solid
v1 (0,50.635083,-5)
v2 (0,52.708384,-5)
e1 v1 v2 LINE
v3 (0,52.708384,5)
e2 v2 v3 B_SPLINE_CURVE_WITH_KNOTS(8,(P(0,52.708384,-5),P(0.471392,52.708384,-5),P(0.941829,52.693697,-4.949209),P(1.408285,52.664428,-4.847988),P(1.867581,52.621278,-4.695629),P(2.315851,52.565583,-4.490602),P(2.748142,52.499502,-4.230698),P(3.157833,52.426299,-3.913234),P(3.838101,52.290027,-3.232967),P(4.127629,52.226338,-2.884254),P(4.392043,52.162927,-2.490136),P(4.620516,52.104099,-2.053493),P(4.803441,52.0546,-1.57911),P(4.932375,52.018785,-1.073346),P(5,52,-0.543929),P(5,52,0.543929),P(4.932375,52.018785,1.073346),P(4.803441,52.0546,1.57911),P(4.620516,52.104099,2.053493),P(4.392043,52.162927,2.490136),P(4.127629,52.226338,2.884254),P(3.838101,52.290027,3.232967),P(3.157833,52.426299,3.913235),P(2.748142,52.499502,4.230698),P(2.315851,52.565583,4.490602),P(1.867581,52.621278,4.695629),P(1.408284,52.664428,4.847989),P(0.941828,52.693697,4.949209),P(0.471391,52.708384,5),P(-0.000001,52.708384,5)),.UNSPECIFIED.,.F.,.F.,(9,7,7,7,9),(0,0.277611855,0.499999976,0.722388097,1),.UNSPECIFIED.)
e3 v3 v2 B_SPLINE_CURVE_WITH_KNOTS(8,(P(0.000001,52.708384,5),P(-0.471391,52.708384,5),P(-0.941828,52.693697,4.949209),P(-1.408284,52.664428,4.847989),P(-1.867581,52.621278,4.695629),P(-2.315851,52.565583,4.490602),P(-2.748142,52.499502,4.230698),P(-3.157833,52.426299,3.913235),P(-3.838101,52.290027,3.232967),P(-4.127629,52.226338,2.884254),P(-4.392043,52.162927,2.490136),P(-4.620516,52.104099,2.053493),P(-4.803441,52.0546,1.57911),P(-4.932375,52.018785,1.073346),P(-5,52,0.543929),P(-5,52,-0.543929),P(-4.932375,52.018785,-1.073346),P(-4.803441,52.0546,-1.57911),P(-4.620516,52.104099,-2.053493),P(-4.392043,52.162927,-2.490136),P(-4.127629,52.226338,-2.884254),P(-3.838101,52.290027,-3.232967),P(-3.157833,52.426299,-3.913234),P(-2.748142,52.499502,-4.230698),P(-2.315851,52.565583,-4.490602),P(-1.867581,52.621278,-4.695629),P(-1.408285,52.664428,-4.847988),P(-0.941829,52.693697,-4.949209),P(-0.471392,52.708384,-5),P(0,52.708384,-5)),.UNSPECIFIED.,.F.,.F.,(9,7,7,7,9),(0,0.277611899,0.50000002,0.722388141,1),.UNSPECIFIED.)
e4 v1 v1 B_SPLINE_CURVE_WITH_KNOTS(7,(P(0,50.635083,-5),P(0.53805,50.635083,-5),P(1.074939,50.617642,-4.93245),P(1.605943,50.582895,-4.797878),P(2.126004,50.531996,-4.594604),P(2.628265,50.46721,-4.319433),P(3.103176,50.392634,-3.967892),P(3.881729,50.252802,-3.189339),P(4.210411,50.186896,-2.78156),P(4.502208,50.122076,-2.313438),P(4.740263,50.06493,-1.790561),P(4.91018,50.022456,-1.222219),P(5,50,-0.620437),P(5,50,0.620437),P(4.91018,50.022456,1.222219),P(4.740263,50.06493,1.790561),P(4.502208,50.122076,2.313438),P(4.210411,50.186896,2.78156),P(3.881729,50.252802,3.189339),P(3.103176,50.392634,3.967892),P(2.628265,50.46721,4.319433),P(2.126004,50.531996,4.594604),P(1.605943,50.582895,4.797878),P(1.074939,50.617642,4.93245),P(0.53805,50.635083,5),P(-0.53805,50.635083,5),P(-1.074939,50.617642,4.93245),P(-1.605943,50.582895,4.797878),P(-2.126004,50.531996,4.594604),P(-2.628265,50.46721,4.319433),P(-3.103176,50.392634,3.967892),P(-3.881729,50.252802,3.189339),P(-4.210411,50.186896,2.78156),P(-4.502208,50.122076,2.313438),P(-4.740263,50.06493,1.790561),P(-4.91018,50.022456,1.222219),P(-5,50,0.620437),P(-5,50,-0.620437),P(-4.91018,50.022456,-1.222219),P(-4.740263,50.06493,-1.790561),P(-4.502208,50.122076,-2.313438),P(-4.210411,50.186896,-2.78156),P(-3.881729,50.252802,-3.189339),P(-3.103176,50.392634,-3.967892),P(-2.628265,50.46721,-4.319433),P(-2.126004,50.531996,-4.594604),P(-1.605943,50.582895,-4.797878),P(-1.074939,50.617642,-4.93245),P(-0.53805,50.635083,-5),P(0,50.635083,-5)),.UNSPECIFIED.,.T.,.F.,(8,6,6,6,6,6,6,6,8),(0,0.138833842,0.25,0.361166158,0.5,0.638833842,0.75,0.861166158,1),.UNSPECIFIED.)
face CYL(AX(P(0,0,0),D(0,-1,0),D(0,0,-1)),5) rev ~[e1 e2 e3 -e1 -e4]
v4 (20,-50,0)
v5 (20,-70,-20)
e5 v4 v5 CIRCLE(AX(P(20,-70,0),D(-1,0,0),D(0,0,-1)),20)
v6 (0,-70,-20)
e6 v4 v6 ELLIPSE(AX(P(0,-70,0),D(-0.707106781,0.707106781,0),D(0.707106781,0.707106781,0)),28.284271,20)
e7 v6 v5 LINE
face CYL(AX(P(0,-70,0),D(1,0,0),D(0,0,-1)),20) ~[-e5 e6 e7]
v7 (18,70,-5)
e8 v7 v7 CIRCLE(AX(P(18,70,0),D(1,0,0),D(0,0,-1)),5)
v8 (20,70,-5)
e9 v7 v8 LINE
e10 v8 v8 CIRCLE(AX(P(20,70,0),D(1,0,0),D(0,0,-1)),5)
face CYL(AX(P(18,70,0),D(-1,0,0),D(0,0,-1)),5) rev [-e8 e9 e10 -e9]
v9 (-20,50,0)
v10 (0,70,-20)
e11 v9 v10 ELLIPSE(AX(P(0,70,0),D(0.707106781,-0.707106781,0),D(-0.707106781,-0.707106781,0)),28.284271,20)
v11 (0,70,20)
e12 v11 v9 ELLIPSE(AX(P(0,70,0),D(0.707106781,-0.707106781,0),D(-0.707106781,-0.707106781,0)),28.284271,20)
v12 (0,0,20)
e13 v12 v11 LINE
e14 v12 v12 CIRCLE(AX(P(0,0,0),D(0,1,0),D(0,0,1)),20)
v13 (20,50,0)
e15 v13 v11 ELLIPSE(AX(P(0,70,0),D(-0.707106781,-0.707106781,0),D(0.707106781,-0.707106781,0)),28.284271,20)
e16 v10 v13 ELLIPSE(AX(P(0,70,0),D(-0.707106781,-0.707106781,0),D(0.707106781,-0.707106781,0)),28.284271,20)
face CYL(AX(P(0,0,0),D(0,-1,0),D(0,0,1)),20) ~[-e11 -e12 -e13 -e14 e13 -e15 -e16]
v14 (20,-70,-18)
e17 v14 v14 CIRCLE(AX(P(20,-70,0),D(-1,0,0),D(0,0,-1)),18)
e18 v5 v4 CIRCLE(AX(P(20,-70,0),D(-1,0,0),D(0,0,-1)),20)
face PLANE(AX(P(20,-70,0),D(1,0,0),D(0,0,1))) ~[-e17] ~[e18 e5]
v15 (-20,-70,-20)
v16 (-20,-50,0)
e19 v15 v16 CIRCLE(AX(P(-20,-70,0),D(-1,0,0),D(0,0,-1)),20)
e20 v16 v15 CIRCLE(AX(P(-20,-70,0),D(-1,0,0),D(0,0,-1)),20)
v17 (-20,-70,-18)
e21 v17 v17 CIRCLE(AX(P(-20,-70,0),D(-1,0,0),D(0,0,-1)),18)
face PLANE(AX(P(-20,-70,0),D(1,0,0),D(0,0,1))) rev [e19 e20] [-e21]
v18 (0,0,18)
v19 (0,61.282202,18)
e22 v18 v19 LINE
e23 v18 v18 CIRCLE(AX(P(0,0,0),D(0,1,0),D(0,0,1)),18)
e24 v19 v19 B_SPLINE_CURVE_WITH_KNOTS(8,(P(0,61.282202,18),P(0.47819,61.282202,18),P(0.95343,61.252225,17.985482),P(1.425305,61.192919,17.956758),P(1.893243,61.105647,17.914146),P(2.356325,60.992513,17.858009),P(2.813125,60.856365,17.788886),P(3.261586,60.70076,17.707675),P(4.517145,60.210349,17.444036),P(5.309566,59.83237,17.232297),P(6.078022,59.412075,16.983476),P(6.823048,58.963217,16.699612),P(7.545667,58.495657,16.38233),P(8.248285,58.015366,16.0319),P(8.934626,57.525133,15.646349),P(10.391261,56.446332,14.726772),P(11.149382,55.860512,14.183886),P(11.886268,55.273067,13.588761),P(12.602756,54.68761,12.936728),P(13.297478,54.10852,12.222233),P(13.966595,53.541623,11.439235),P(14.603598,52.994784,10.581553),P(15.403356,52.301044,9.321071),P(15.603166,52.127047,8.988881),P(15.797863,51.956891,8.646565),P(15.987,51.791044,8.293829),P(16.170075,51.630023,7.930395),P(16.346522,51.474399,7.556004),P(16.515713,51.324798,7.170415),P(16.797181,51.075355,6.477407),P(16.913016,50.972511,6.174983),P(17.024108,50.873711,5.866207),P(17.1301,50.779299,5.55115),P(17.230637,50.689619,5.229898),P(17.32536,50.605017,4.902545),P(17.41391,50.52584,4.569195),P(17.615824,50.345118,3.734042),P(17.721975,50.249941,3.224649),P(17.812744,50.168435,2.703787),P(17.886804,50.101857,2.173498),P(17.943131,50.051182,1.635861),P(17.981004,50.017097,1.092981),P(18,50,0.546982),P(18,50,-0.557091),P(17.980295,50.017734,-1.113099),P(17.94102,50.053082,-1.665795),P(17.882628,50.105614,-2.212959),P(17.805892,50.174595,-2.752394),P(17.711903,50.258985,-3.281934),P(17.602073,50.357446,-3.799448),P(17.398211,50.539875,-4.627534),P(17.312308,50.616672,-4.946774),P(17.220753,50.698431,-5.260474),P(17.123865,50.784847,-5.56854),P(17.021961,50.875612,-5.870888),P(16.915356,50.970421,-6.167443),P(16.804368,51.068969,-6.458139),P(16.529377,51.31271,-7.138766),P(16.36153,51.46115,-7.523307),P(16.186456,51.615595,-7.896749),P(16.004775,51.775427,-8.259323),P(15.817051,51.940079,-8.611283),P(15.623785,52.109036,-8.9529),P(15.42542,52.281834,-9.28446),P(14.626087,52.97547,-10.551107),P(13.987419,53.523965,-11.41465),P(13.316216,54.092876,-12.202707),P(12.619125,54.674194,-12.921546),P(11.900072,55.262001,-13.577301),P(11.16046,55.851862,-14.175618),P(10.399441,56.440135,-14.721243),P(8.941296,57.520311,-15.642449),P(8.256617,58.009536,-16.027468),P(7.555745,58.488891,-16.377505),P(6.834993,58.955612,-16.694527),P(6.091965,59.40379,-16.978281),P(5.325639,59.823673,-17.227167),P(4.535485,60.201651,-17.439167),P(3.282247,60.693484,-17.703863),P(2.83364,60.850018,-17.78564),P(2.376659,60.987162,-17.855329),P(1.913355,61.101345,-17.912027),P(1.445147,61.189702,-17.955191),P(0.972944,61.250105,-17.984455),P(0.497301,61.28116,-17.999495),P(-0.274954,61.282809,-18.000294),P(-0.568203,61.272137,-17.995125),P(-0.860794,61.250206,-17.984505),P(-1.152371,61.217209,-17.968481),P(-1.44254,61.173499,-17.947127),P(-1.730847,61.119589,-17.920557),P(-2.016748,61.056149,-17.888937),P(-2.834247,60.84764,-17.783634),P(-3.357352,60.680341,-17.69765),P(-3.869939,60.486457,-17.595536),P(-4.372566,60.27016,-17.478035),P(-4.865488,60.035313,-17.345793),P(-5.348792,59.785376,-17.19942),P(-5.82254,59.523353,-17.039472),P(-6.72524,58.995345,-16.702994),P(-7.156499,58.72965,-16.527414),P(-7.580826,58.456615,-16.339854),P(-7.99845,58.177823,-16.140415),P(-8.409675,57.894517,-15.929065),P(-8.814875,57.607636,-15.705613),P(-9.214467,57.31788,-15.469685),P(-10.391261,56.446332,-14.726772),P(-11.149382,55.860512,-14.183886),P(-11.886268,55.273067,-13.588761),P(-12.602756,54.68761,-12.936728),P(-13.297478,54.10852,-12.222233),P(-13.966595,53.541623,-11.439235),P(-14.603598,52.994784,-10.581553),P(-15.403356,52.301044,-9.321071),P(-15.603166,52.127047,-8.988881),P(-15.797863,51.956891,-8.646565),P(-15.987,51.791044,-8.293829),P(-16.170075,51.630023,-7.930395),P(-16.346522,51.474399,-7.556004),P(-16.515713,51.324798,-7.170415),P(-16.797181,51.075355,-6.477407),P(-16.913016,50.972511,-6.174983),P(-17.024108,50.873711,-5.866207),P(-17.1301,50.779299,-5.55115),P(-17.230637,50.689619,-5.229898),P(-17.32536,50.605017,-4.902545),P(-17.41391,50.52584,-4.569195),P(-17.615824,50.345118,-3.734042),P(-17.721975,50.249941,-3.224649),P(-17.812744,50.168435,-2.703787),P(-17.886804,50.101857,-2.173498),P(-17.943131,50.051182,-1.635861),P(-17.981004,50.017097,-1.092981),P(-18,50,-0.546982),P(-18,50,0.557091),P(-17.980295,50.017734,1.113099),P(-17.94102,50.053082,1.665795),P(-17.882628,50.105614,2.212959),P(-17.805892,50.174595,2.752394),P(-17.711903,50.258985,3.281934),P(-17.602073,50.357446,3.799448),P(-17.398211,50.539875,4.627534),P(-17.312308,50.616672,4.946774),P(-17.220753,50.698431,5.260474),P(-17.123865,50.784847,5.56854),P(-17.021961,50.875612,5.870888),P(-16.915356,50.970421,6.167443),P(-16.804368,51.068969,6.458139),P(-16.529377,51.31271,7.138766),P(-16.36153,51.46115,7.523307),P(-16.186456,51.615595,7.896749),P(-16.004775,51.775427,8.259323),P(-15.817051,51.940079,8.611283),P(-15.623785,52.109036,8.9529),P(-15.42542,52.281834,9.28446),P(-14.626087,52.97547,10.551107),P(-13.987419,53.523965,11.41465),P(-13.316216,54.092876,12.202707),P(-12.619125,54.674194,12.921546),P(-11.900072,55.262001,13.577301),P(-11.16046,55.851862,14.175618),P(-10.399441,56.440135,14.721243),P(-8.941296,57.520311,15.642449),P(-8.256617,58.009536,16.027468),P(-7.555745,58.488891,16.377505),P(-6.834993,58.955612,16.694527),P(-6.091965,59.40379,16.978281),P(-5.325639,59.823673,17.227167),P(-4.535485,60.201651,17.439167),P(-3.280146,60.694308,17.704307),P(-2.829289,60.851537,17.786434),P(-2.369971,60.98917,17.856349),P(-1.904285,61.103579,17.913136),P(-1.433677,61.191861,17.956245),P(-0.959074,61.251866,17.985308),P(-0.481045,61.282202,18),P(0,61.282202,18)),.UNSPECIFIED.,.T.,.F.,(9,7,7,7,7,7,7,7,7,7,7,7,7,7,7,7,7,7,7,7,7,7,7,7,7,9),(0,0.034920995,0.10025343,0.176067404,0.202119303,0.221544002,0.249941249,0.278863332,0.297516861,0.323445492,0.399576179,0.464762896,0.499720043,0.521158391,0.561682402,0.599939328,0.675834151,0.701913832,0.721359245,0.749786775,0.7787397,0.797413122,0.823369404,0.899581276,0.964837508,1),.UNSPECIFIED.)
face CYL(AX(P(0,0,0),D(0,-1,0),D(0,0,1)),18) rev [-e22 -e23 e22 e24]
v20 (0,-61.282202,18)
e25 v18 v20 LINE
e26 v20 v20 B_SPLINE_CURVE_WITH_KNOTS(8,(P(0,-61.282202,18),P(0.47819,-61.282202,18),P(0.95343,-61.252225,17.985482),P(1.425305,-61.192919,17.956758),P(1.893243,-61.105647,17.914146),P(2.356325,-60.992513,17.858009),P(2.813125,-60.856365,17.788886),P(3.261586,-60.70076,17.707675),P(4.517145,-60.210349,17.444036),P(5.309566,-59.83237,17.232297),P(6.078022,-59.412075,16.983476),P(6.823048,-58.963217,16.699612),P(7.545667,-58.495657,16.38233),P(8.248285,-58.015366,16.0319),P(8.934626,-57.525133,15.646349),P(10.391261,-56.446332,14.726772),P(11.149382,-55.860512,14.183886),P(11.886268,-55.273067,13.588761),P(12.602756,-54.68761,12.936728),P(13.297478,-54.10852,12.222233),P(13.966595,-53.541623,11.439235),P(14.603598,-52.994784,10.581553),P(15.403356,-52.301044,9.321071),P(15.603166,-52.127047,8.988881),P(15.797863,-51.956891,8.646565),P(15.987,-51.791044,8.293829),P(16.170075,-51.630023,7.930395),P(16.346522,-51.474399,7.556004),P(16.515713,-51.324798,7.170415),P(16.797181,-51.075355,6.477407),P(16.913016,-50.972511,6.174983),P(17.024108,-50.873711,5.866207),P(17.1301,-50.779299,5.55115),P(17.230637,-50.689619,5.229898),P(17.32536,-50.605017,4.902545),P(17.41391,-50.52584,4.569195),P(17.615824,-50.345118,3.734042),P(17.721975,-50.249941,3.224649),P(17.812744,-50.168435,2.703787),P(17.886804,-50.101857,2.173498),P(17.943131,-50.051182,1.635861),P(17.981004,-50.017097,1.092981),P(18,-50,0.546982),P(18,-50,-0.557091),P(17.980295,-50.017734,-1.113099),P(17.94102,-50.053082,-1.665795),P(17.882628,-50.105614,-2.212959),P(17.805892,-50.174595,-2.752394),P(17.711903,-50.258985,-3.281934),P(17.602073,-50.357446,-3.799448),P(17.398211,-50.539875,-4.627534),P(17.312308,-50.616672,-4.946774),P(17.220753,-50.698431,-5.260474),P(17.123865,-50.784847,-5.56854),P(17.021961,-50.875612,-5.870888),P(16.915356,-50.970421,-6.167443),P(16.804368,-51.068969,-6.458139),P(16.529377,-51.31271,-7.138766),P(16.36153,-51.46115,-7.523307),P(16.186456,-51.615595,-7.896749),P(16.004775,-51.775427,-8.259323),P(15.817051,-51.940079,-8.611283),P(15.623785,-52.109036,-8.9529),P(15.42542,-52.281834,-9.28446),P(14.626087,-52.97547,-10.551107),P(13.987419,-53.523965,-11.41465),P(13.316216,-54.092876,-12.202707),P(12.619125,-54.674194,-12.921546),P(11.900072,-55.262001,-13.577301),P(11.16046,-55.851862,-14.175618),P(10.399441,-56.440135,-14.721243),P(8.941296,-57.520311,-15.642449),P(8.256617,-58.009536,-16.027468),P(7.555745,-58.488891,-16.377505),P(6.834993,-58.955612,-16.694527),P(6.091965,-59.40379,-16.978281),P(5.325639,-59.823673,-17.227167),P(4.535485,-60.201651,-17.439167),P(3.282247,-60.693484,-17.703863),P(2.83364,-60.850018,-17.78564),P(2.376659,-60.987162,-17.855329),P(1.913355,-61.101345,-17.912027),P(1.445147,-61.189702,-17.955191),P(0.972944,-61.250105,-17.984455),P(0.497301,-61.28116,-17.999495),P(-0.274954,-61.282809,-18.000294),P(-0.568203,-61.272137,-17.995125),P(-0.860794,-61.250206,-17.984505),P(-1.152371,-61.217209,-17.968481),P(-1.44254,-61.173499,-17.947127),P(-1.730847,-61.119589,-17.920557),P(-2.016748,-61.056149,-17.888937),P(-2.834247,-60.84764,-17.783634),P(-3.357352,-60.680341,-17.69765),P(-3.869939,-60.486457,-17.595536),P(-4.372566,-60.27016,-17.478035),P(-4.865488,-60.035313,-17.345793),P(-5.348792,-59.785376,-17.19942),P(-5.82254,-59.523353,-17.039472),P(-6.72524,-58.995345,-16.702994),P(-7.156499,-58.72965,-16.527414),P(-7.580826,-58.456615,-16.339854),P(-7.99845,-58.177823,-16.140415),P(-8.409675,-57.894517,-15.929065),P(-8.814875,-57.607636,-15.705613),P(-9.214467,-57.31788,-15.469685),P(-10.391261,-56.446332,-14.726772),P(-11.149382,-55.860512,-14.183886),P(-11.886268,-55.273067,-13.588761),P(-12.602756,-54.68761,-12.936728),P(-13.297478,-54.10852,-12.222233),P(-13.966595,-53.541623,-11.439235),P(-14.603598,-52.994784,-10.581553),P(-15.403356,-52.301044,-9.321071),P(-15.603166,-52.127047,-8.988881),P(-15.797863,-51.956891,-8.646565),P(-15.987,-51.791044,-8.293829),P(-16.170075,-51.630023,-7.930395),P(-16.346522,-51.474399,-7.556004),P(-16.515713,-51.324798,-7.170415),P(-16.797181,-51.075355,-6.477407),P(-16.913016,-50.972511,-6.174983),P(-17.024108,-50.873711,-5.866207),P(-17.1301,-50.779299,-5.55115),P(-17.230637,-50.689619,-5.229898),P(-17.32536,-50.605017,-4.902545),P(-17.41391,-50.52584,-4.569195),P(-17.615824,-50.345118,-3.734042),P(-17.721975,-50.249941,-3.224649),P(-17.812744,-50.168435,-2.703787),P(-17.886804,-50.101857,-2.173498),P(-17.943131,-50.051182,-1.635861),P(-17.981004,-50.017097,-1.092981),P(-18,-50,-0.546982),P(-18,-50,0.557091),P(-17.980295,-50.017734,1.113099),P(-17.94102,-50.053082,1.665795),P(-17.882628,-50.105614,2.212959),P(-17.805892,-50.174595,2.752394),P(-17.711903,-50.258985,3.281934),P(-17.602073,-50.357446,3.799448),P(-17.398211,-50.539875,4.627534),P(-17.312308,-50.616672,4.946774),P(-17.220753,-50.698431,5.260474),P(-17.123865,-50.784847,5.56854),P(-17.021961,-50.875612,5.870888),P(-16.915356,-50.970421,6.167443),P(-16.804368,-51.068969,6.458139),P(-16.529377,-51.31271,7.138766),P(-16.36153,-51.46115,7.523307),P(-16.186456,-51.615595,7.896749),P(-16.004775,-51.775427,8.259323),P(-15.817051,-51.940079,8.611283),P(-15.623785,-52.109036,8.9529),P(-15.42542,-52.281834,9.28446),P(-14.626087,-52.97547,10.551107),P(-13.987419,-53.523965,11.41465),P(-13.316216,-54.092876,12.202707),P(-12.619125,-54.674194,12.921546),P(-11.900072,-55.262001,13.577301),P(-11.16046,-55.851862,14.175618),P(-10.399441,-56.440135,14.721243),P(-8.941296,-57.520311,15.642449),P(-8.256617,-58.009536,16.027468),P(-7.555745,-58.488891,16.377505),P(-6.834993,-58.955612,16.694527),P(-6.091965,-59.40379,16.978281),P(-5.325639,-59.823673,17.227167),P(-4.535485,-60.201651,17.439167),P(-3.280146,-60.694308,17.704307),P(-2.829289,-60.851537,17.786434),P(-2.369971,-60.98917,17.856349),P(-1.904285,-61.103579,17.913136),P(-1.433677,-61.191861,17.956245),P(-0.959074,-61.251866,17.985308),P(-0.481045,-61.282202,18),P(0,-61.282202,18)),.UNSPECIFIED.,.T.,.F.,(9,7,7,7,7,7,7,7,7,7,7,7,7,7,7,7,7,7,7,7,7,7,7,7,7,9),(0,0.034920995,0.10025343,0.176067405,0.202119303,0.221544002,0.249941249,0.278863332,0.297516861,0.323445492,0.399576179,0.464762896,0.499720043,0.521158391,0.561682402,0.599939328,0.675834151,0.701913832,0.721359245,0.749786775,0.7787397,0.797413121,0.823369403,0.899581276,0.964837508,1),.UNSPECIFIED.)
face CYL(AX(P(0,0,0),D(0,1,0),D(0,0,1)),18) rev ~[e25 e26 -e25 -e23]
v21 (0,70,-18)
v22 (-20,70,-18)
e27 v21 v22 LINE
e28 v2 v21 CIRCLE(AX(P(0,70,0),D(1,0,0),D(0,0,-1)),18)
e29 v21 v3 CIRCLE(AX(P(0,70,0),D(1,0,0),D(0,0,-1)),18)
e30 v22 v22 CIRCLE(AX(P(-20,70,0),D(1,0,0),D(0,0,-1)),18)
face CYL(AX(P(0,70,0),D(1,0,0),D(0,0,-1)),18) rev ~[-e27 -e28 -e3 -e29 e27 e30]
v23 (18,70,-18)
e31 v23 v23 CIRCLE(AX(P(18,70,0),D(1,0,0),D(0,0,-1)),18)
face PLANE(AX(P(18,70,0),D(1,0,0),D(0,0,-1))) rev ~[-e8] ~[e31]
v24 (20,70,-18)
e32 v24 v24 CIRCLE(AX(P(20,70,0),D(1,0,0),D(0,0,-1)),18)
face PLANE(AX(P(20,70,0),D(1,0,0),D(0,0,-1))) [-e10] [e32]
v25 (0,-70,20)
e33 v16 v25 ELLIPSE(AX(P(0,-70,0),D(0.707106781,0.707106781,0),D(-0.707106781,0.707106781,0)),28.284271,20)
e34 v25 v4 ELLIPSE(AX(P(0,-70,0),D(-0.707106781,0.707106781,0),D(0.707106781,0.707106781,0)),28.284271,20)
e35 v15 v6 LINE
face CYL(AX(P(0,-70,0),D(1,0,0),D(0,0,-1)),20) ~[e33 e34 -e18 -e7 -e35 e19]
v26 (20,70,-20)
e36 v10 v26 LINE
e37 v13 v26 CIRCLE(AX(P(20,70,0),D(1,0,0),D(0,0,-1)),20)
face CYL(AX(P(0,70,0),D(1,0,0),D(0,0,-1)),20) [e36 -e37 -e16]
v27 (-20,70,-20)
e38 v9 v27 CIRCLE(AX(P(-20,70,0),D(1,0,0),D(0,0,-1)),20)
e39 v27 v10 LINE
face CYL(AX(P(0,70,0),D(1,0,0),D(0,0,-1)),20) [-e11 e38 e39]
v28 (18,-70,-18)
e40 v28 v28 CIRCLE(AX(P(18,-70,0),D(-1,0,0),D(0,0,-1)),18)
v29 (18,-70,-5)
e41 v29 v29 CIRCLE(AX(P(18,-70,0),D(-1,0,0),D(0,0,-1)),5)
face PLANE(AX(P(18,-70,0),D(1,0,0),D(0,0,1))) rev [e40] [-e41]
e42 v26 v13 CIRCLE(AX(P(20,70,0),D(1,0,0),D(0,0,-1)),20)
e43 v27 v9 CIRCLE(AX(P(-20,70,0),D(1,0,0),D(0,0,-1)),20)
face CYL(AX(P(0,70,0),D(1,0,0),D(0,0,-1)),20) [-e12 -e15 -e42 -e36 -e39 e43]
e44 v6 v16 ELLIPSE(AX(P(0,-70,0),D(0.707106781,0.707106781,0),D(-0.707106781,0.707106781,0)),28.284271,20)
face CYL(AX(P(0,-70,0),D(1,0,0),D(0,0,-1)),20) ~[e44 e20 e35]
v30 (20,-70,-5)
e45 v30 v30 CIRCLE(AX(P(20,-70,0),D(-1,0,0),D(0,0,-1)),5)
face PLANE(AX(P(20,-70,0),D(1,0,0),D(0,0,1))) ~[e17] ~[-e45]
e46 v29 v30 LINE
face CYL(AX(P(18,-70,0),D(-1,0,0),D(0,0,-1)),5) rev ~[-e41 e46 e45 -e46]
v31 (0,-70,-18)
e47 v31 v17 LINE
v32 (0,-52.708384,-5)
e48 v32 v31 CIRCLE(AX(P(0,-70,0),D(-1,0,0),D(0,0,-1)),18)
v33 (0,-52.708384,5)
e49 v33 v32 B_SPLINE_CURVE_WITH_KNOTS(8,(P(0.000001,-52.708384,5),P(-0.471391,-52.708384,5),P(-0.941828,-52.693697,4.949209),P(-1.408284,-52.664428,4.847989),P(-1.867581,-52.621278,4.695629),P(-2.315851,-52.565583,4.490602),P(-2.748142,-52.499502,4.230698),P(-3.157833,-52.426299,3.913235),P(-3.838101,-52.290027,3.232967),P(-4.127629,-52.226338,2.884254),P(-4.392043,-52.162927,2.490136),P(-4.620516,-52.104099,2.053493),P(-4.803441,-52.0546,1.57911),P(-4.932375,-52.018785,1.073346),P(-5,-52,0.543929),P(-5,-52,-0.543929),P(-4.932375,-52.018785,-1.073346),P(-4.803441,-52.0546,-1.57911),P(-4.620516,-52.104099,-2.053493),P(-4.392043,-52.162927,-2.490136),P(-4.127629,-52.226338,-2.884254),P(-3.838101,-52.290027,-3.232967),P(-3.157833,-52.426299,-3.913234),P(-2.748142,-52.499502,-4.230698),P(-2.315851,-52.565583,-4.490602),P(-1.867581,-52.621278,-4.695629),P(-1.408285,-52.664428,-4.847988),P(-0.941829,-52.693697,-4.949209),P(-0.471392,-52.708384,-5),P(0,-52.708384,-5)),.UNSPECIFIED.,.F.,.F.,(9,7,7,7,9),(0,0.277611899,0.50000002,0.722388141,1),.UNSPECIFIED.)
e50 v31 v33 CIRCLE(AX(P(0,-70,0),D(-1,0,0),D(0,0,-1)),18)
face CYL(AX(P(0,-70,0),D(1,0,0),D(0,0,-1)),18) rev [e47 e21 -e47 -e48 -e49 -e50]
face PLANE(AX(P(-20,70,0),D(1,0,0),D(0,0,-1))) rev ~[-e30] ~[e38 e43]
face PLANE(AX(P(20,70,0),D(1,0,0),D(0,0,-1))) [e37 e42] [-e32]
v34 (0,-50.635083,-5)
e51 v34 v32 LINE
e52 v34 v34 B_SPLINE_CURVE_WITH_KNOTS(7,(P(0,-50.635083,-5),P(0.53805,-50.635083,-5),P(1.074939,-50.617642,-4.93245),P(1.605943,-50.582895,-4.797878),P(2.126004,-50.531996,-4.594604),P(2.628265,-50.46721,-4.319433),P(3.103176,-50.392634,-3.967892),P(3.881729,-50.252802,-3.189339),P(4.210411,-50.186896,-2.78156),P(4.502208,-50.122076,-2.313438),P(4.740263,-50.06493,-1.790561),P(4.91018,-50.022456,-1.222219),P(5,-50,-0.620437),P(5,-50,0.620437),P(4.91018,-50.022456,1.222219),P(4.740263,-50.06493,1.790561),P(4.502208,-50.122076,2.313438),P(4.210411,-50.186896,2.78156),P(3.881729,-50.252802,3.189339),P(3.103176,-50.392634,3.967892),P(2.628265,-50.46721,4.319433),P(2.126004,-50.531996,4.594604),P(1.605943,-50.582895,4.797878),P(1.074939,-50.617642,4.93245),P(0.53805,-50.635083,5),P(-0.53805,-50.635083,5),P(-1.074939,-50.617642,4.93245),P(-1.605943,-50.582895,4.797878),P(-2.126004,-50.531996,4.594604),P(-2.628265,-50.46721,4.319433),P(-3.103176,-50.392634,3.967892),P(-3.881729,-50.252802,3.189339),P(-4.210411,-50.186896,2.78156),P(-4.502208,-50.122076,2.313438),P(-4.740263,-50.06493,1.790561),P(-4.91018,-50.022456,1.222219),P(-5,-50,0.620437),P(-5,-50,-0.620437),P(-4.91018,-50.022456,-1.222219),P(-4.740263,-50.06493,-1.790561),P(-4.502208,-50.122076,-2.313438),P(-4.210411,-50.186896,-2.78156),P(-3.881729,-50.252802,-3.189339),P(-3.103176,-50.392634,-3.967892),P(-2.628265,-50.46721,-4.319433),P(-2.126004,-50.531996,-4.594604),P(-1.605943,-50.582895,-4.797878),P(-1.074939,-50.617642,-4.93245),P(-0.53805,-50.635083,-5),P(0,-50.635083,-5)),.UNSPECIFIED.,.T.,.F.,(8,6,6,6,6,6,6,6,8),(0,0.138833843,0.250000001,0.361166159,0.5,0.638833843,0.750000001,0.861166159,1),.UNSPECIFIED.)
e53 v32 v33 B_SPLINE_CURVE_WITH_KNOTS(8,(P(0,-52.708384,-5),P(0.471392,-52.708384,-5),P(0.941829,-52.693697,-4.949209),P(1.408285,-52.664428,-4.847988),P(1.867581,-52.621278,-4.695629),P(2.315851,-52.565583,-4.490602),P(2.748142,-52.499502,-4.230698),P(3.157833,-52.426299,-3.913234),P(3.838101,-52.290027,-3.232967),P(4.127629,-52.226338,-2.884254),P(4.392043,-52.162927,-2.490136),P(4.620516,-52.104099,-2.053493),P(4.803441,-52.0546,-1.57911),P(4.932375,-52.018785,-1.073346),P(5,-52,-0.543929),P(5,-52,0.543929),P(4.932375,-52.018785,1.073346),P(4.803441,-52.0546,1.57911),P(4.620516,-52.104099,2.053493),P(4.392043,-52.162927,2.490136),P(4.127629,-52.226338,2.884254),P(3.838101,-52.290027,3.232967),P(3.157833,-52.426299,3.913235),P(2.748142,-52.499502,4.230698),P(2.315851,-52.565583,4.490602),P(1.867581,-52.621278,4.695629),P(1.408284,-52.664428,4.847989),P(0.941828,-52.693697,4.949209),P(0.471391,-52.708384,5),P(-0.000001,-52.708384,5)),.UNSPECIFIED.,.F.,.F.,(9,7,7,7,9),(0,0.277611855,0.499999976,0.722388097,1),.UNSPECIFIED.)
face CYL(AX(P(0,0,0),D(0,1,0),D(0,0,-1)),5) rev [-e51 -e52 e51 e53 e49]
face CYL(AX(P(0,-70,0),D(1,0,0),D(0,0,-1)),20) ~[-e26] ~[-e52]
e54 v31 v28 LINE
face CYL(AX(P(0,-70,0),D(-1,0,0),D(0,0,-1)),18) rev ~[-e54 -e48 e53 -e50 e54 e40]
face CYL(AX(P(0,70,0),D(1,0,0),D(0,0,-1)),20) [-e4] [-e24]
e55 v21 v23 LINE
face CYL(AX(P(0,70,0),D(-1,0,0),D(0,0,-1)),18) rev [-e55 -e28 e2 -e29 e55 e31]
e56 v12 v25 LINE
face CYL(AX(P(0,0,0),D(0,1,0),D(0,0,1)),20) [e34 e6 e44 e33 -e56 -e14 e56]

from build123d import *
from build123d.topology import SkipClean

# Parameters (mm, degrees)
SKETCH1_R           = 20
SKETCH1_R_2         = 18
BOSS_EXTRUDE1_DEPTH = 70
SKETCH2_R           = 20
CUT_EXTRUDE1_DEPTH  = 20
SKETCH3_R           = 20
SKETCH3_R_2         = 18
BOSS_EXTRUDE2_DEPTH = 20
BOSS_EXTRUDE3_START = -2
SKETCH4_R           = 18
SKETCH4_R_2         = 5
BOSS_EXTRUDE3_DEPTH = 2
SKETCH5_R           = 5
CUT_EXTRUDE2_DEPTH  = 70


with BuildPart() as part:
    # Sketch1 → Boss-Extrude1 (new body)
    with BuildSketch(Plane(origin=(0, 0, 0), x_dir=(1, 0, 0), z_dir=(0, 1, 0))):
        with Locations(Location((0, 0, 0), (0, 0, 270))):
            Circle(SKETCH1_R)
        with Locations(Location((0, 0, 0), (0, 0, 270))):
            Circle(SKETCH1_R_2, mode=Mode.SUBTRACT)
    boss_extrude1 = extrude(amount=BOSS_EXTRUDE1_DEPTH)

    # Sketch2 → Cut-Extrude1 (cut, symmetric)
    with BuildSketch(Plane(origin=(0, 0, 0), x_dir=(0, 0, -1), z_dir=(1, 0, 0))):
        with Locations((0, 70)):
            Circle(SKETCH2_R)
    cut_extrude1 = extrude(amount=CUT_EXTRUDE1_DEPTH, both=True, mode=Mode.SUBTRACT)

    # Sketch3 → Boss-Extrude2 (add, symmetric)
    with SkipClean():  # the faces are left unmerged after this step: merging them gives an invalid solid
        with BuildSketch(Plane(origin=(0, 0, 0), x_dir=(0, 0, -1), z_dir=(1, 0, 0))):
            with Locations((0, 70)):
                Circle(SKETCH3_R)
            with Locations((0, 70)):
                Circle(SKETCH3_R_2, mode=Mode.SUBTRACT)
        boss_extrude2 = extrude(amount=BOSS_EXTRUDE2_DEPTH, both=True)

    # Sketch4 → Boss-Extrude3 (add)
    with SkipClean():  # the faces are left unmerged after this step: merging them gives an invalid solid
        with BuildSketch(Plane(origin=(20, 0, 0), x_dir=(0, 0, -1), z_dir=(1, 0, 0)).offset(BOSS_EXTRUDE3_START)):
            with Locations((0, 70)):
                Circle(SKETCH4_R)
            with Locations((0, 70)):
                Circle(SKETCH4_R_2, mode=Mode.SUBTRACT)
        boss_extrude3 = extrude(amount=BOSS_EXTRUDE3_DEPTH)

    # Sketch5 → Cut-Extrude2 (cut)
    with SkipClean():  # the faces are left unmerged after this step: merging them gives an invalid solid
        with BuildSketch(Plane.XZ):
            with Locations(Location((0, 0, 0), (0, 0, 270))):
                Circle(SKETCH5_R)
        cut_extrude2 = extrude(amount=-CUT_EXTRUDE2_DEPTH, mode=Mode.SUBTRACT)

    # Mirror1: Boss-Extrude1, Cut-Extrude1, Boss-Extrude2, Boss-Extrude3, Cut-Extrude2 across plane
    with SkipClean():  # the faces are left unmerged after this step: merging them gives an invalid solid
        add(boss_extrude1.mirror(Plane.ZX))
        add(cut_extrude1.mirror(Plane.ZX), mode=Mode.SUBTRACT)
        add(boss_extrude2.mirror(Plane.ZX))
        add(boss_extrude3.mirror(Plane.ZX))
        add(cut_extrude2.mirror(Plane.ZX), mode=Mode.SUBTRACT)


solid = part.part
